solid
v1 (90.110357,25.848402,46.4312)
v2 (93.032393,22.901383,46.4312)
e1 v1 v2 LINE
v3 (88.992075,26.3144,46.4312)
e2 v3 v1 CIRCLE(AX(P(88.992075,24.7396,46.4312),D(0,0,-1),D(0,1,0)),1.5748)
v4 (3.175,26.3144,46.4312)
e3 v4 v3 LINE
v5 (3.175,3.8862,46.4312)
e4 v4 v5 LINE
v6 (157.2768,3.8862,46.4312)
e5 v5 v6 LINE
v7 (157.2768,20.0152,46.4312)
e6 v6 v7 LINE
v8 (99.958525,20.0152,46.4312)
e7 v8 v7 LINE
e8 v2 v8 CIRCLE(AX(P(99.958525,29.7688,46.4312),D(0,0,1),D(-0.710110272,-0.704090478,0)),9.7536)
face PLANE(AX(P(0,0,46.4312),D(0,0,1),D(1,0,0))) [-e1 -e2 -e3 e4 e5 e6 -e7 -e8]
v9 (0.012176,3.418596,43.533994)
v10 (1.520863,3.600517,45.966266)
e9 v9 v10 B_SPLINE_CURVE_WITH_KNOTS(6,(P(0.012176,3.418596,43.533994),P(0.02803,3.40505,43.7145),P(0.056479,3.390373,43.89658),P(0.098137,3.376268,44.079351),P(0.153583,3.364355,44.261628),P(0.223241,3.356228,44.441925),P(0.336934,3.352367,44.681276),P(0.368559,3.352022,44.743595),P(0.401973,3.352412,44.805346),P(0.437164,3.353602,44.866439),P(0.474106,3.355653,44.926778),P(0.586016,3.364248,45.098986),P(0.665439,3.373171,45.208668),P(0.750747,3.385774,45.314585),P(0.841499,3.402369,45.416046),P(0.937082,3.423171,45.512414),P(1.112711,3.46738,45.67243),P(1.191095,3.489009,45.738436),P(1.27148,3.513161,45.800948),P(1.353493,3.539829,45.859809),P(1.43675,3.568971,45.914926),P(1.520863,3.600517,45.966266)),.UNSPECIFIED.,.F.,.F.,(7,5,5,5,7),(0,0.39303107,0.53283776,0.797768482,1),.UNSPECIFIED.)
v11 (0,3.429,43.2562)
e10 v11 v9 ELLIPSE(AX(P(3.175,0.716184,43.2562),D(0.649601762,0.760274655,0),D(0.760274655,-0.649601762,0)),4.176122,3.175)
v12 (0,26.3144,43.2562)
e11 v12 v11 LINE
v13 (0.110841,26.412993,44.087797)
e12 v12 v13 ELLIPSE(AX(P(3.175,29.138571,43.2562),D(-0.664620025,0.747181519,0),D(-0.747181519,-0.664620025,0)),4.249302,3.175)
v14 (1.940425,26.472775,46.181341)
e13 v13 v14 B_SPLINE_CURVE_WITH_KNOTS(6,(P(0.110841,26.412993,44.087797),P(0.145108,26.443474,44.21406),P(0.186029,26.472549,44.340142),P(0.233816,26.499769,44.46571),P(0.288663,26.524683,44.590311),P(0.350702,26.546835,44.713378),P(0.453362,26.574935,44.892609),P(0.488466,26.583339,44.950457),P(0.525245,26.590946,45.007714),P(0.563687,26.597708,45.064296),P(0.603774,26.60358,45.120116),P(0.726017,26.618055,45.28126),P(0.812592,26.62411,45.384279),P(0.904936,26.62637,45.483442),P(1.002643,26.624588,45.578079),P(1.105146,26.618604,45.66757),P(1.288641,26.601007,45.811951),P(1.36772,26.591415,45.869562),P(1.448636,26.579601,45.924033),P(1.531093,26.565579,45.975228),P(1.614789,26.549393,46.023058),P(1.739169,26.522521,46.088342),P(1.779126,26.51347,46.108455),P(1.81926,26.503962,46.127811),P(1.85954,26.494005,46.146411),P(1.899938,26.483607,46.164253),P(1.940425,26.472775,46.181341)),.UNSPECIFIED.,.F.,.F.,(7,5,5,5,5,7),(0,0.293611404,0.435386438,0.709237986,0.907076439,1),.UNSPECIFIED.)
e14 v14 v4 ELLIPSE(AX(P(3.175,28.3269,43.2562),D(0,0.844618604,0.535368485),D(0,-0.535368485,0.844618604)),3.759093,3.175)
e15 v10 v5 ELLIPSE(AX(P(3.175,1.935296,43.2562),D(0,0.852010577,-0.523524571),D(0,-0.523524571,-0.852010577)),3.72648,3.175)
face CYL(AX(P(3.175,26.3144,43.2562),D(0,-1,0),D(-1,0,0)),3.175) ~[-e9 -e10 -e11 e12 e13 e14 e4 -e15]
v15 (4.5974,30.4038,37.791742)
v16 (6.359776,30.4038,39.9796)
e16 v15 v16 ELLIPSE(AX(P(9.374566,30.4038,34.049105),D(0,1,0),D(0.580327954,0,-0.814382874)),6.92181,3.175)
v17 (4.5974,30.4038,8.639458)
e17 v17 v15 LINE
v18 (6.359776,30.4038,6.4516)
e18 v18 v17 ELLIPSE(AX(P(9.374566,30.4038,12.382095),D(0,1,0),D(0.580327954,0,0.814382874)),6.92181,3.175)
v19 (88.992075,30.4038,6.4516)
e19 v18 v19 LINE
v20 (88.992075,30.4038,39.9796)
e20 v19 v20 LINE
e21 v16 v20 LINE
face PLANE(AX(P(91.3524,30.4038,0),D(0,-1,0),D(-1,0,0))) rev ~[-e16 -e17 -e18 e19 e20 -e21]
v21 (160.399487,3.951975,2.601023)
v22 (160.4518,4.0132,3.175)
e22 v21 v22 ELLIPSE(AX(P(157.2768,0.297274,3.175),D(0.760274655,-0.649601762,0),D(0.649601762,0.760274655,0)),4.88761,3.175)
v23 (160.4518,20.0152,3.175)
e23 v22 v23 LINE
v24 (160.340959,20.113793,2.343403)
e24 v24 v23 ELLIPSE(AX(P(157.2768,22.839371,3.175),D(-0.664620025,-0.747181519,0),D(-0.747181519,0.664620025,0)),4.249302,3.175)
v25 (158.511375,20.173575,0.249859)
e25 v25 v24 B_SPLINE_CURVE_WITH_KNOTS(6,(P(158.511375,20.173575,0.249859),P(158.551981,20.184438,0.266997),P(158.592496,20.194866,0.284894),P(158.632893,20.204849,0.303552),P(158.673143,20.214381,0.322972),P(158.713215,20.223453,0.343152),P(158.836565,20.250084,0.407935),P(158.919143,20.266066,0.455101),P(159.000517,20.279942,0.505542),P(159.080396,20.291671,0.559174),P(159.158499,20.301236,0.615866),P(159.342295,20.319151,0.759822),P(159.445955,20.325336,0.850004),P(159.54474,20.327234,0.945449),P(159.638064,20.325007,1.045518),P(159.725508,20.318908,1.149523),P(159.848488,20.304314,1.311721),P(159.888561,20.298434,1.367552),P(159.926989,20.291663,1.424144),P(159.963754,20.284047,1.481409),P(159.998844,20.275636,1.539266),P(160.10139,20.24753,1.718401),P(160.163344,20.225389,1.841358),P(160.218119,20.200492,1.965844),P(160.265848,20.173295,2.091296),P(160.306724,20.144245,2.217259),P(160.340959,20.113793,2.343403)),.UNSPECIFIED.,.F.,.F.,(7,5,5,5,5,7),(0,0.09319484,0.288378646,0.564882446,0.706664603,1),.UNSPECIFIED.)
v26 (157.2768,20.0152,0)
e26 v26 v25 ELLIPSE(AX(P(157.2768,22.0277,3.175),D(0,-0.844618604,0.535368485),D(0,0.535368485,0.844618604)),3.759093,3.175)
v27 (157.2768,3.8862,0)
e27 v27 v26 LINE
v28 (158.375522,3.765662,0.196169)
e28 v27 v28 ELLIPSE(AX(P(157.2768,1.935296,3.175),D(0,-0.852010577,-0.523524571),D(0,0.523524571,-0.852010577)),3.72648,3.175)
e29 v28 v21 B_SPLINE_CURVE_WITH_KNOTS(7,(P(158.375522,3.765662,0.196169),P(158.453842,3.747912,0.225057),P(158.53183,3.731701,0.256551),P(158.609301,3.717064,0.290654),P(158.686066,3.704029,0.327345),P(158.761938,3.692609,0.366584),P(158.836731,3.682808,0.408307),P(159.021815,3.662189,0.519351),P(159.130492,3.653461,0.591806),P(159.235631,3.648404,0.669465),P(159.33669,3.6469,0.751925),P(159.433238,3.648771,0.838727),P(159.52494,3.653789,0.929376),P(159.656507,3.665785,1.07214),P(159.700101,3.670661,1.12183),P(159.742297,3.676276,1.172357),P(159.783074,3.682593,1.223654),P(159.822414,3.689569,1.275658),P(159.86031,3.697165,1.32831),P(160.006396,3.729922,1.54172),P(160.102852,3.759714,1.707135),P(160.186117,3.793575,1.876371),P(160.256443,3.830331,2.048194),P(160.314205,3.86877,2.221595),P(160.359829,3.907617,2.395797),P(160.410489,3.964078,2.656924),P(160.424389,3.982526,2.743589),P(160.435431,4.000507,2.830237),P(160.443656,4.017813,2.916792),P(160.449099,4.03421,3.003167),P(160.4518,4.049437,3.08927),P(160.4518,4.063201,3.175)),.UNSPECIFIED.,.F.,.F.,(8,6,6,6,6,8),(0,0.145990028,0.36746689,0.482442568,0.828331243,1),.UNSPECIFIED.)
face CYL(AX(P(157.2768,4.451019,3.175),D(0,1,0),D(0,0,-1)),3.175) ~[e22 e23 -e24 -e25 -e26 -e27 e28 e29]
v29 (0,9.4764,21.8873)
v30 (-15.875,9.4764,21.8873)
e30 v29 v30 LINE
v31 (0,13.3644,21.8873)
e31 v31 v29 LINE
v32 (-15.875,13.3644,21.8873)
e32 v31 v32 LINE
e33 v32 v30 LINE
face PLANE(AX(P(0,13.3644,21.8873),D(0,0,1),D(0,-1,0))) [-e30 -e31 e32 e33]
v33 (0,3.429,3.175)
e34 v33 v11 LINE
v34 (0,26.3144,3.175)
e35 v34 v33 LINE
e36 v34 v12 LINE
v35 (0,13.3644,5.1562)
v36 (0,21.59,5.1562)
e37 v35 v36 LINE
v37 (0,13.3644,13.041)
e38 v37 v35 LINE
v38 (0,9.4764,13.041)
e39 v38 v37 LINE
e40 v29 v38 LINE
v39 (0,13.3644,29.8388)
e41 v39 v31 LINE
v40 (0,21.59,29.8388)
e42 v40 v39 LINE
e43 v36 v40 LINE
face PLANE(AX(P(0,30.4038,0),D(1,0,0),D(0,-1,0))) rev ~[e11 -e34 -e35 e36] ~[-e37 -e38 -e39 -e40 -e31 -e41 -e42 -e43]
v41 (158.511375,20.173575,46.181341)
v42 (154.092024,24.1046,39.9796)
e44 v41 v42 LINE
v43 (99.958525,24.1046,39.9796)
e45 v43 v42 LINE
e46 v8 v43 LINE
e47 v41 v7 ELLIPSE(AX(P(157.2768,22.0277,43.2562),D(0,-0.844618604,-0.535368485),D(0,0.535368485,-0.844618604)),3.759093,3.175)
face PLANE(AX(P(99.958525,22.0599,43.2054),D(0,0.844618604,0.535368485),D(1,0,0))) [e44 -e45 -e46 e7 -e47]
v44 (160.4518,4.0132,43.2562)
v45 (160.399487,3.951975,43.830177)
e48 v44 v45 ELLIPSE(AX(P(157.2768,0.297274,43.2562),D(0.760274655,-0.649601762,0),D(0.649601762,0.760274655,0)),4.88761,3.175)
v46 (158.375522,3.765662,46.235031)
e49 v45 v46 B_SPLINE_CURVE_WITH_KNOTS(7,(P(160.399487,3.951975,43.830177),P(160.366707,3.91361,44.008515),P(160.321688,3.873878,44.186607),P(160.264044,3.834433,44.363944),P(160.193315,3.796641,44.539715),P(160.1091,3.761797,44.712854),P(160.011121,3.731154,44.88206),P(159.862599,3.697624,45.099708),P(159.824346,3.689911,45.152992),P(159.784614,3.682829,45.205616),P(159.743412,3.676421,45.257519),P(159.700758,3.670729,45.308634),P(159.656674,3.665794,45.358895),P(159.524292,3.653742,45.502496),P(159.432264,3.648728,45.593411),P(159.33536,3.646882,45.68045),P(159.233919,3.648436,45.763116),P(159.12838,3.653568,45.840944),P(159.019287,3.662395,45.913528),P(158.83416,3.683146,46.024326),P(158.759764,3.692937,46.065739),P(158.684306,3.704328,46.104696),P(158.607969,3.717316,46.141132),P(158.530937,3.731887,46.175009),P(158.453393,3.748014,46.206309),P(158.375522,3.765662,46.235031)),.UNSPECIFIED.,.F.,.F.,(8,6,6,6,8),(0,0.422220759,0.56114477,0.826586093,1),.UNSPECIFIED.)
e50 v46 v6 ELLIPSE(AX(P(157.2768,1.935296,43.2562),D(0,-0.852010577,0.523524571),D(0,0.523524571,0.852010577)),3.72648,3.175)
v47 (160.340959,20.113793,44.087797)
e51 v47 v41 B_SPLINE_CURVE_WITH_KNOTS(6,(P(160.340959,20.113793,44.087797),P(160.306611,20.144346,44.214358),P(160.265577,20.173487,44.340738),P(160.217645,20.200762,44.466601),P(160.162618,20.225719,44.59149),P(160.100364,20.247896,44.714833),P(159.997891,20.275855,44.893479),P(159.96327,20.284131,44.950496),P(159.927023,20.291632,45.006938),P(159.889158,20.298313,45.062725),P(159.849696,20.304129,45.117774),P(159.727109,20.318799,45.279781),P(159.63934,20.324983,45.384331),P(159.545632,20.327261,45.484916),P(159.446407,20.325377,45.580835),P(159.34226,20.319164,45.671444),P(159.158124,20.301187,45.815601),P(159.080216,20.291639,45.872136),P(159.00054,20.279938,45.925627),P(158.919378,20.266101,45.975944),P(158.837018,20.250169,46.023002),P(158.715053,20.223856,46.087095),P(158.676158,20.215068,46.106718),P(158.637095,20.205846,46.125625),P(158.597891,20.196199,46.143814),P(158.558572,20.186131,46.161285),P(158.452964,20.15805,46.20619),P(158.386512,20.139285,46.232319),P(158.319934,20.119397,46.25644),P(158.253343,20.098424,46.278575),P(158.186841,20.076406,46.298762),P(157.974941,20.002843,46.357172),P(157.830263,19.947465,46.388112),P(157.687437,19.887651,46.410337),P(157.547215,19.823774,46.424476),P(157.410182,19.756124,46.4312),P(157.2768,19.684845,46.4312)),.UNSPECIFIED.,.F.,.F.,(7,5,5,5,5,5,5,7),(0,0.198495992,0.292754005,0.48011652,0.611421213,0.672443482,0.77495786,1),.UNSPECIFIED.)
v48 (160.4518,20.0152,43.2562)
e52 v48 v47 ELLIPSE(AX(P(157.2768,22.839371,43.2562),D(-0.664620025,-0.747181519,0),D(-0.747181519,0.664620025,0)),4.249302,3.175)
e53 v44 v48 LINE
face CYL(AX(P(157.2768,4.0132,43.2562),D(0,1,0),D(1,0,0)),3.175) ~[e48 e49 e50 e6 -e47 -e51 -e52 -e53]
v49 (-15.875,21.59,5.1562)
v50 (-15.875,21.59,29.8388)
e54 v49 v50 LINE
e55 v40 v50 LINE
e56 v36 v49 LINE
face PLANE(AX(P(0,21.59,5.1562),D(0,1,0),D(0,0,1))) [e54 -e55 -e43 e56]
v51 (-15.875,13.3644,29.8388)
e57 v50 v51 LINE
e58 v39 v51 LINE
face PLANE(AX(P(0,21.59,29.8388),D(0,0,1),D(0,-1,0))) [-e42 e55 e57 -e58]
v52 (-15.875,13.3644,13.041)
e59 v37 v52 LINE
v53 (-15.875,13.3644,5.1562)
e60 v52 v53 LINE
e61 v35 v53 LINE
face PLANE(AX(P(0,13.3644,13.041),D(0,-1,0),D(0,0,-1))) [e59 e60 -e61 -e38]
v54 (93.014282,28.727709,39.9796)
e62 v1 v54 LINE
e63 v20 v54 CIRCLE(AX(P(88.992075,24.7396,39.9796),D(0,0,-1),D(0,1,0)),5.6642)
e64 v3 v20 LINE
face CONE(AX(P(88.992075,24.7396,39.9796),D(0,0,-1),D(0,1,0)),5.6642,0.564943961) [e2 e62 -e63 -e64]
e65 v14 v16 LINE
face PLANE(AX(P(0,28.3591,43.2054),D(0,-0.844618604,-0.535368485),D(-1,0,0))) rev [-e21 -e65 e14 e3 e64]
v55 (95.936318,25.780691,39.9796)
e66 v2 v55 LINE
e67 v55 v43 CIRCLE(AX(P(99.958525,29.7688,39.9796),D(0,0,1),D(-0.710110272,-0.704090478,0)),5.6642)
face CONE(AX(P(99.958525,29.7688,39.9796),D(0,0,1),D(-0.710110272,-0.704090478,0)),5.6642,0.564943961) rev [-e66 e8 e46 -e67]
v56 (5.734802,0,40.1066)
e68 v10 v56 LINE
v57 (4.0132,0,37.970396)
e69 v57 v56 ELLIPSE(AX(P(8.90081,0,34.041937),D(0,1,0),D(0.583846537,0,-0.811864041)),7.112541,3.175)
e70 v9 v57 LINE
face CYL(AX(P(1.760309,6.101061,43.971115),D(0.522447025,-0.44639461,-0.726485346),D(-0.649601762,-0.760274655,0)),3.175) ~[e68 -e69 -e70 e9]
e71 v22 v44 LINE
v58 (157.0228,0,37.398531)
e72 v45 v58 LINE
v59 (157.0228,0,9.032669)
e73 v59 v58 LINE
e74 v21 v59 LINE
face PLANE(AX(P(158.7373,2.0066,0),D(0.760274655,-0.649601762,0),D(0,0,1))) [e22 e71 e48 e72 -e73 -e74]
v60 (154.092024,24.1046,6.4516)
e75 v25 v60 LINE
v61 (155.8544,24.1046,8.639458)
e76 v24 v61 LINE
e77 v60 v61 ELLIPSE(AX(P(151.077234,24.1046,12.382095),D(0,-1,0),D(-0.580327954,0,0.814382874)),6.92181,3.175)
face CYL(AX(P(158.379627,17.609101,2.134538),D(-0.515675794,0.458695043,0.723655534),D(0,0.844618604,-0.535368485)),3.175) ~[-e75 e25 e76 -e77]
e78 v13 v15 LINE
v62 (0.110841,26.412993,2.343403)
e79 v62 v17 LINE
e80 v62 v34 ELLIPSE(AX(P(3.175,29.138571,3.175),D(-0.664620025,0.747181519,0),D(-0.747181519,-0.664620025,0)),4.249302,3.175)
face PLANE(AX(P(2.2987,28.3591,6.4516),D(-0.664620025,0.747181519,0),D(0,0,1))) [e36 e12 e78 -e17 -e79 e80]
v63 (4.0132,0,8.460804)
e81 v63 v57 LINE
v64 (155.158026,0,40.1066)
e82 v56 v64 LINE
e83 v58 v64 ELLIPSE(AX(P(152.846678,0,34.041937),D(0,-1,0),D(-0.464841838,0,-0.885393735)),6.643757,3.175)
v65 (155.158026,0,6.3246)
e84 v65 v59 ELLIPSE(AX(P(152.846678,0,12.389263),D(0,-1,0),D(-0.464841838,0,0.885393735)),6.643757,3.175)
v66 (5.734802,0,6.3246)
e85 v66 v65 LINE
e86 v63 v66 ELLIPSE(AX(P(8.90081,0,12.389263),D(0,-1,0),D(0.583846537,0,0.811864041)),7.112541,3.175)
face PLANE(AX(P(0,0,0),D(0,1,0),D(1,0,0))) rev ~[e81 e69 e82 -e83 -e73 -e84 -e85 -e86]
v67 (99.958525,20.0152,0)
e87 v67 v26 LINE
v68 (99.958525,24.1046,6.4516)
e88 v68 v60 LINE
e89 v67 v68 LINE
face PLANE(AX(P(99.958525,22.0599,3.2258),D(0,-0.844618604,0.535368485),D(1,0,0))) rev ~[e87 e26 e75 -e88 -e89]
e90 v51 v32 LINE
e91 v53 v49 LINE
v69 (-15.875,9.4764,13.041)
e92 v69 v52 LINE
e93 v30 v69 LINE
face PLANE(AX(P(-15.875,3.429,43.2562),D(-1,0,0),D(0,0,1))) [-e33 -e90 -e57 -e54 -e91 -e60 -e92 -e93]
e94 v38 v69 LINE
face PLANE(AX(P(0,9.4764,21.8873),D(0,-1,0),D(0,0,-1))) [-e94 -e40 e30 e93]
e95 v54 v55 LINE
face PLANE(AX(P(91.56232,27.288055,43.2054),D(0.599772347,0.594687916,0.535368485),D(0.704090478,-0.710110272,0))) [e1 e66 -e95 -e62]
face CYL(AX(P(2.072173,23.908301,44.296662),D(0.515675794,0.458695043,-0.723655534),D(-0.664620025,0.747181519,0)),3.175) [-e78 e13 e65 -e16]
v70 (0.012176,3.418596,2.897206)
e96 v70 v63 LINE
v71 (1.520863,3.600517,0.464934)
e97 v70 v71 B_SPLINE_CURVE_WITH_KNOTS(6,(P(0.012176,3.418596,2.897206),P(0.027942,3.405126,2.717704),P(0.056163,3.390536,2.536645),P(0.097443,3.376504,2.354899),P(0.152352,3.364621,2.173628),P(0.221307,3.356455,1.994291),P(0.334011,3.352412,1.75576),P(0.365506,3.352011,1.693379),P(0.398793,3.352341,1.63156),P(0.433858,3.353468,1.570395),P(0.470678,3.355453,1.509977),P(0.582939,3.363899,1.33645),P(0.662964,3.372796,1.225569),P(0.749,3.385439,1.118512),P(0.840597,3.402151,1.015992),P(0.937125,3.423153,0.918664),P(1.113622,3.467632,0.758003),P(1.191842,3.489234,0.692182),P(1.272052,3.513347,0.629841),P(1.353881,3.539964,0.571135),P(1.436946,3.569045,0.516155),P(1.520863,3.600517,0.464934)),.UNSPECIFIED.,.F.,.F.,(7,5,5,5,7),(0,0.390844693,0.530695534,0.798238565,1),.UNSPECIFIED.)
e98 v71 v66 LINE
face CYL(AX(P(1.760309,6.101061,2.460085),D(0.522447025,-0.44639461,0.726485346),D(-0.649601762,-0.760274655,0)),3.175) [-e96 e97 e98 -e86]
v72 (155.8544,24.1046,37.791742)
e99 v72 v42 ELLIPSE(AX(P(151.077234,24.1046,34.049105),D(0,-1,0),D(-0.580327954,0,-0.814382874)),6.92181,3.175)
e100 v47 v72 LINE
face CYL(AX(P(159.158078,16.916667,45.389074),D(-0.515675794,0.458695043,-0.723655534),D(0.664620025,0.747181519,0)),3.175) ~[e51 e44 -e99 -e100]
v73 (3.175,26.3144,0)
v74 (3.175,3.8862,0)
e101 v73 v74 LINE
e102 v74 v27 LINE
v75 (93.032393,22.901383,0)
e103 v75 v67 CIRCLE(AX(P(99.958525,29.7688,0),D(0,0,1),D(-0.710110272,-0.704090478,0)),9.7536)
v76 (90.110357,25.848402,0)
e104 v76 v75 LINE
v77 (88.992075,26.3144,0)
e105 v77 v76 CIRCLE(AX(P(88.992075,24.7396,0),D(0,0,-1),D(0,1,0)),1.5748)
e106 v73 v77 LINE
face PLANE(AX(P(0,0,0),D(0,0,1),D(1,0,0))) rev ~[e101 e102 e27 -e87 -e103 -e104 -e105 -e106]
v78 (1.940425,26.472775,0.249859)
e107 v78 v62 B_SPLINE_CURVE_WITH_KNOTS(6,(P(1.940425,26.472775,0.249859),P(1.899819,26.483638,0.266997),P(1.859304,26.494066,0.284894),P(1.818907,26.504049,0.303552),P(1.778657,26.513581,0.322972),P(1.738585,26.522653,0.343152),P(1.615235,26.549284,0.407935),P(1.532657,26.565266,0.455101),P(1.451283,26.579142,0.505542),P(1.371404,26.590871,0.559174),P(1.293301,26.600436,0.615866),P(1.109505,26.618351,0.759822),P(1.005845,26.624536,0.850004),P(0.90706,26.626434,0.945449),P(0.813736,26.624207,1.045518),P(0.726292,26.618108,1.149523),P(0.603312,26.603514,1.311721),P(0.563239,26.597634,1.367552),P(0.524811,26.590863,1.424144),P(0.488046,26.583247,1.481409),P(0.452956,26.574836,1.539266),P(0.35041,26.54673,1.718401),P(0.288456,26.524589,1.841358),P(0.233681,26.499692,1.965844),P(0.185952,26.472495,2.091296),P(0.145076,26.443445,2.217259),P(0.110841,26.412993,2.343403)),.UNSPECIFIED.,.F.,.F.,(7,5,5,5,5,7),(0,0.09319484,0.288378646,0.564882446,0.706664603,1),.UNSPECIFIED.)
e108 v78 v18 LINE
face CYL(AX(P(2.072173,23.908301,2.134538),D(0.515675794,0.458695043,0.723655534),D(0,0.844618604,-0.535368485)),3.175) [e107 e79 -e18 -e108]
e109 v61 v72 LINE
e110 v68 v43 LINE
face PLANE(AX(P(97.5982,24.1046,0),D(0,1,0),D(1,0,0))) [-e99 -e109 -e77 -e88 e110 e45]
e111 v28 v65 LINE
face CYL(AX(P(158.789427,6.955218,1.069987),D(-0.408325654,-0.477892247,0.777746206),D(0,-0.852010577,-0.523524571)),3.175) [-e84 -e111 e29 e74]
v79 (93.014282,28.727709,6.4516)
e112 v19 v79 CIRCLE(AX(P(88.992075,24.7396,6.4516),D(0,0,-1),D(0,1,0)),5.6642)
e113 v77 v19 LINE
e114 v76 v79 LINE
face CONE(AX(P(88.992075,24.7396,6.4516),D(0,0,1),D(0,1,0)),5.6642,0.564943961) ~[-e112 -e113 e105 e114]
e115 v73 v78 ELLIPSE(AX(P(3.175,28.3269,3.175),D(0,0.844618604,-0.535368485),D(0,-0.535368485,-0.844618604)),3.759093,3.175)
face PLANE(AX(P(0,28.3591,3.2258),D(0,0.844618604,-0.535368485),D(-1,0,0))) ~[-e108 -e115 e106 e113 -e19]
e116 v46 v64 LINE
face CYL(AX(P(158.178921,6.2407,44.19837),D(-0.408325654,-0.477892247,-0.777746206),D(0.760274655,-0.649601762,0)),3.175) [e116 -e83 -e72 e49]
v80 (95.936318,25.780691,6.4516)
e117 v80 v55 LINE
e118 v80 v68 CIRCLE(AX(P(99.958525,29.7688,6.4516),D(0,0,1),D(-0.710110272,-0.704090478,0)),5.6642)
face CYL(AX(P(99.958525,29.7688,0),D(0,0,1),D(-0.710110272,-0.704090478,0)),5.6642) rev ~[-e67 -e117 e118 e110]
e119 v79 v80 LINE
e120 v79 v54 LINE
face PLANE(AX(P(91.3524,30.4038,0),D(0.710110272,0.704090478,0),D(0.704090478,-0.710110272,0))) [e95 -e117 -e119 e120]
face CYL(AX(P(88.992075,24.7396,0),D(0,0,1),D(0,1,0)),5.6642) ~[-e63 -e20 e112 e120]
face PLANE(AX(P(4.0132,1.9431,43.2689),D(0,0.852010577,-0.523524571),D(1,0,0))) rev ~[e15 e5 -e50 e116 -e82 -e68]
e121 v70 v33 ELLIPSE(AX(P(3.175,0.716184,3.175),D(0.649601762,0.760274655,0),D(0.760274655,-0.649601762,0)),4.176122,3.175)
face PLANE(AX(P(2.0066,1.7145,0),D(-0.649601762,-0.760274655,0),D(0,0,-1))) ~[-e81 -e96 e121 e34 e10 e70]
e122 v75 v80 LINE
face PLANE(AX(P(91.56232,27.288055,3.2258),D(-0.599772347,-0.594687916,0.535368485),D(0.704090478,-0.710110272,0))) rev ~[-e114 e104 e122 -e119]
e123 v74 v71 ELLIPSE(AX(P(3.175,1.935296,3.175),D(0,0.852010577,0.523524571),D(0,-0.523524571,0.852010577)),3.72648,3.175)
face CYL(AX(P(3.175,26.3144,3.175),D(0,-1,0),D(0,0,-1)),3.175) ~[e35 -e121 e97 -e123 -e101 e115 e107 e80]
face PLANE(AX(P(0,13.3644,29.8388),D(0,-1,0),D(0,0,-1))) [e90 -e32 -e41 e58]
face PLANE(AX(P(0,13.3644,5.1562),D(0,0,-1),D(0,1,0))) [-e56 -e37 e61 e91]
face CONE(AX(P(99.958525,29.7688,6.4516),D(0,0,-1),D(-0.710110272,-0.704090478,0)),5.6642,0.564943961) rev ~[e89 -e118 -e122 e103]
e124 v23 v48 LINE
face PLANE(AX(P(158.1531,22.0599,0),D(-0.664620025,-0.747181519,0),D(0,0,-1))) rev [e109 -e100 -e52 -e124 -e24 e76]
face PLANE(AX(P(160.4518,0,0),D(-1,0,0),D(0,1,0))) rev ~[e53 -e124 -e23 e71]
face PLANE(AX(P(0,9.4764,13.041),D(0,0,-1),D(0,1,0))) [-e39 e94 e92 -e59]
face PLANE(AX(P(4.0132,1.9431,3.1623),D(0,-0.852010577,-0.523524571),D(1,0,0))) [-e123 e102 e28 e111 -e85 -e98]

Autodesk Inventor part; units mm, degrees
ref_plane "YZ Plane" through (0, 0, 0) normal (1, 0, 0) x (0, 1, 0)
ref_plane "XZ Plane" through (0, 0, 0) normal (0, 1, 0) x (-1, 0, 0)
ref_plane "XY Plane" through (0, 0, 0) normal (0, 0, 1) x (1, 0, 0)
sketch "Sketch1" plane through (0, 0, 0) normal (0, 0, 1) x (1, 0, 0)
  line L0 (0, 0) -> (160.4518, 0)
  line L1 (160.4518, 0) -> (160.4518, 30.4038)
  line L2 (160.4518, 30.4038) -> (0, 30.4038)
  line L3 (0, 30.4038) -> (0, 0)
  line L4 (97.5982, 24.1046) -> (160.4518, 24.1046)
  line L5 (95.9612, 25.7556) -> (92.9894, 28.7528) construction
  line L6 (91.3524, 30.4038) -> (97.5982, 24.1046)
  dimension "d0" = 160.4518
  dimension "d1" = 30.4038
  dimension "d4" = 67.4624
  dimension "d5" = 1.651
  dimension "d8" = 64.4906
  dimension "d9" = 4.6482
  dimension "d10" = 6.2992
extrude "Extrusion1" add sketch "Sketch1" along normal blind 46.4312 contours L3 L2 L6 L4 L1 L0
fillet "Fillet1" radius 5.6642 2 edges at (91.3524, 30.4038, 23.2156) (97.5982, 24.1046, 23.2156)
chamfer "Chamfer1" distance 4.5974 distance2 4.0894 1 edges at (160.4518, 24.1046, 23.2156) measured on face at (140.2874, 24.1046, 15.4771)
chamfer "Chamfer3" distance 4.0894 distance2 6.4516 3 edges at (127.9065, 24.1046, 0) (94.4753, 27.2542, 0) (44.496, 30.4038, 0) measured on face at (86.4331, 8.0715, 0)
chamfer "Chamfer2" distance 4.0894 distance2 6.4516 3 edges at (127.9065, 24.1046, 46.4312) (94.4753, 27.2542, 46.4312) (44.496, 30.4038, 46.4312) measured on face at (86.4331, 8.0715, 46.4312)
chamfer "Chamfer4" distance 4.0894 distance2 4.5974 1 edges at (0, 30.4038, 23.2156) measured on face at (0, 10.1346, 28.8036)
chamfer "Chamfer5" distance 3.429 distance2 4.0132 1 edges at (0, 0, 23.2156) measured on face at (0, 17.5429, 30.9541)
chamfer "Chamfer6" distance 3.8862 distance2 6.3246 1 edges at (82.2325, 0, 46.4312) measured on face at (87.5035, 6.7349, 46.4312)
chamfer "Chamfer7" distance 4.0132 distance2 3.429 1 edges at (160.4518, 0, 20.0533) measured on face at (160.4518, 13.3435, 28.8459)
chamfer "Chamfer8" distance 3.8862 distance2 6.3246 1 edges at (80.518, 0, 0) measured on face at (86.3605, 6.7349, 0)
fillet "Fillet2" radius 3.175 12 edges at (0, 15.1003, 0) (2.2987, 28.3591, 3.2258) (0, 15.1003, 46.4312) (2.2987, 28.3591, 43.2054) (2.0066, 1.7145, 3.5343) (2.0066, 1.7145, 42.8969) (158.683, 1.9431, 3.1623) (160.4518, 12.0142, 0) (158.1531, 22.0599, 3.2258) (158.1531, 22.0599, 43.2054) (160.4518, 12.0142, 46.4312) (158.683, 1.9431, 43.2689)
sketch "Sketch2" plane through (0, 3.429, 43.2562) normal (-1, 0, 0) x (0, 0, 1)
  line L0 (-32.0153, 0.1) -> (-56.6979, 0.1) construction
  line L1 (-56.6979, 0.1) -> (-56.6979, 8.3256) construction
  line L2 (-56.6979, 8.3256) -> (-32.0153, 8.3256) construction
  line L3 (-32.0153, 8.3256) -> (-32.0153, 0.1) construction
  ellipse E0 centre (-40.1387, 8.5022) end of major axis (-39.8909, 8.2522) minor radius 0.0031 (-40.1387, 8.4978) -> (-39.8909, 8.2522) ccw construction
  line L4 (-48.8131, 12.2136) -> (-39.9668, 12.2136) construction
  line L5 (-39.9668, 12.2136) -> (-39.9668, 8.3256) construction
  line L6 (-39.9668, 8.3256) -> (-48.8131, 8.3256) construction
  line L7 (-48.8131, 8.3256) -> (-48.8131, 12.2136) construction
  line L8 (-38.1, 18.161) -> (-13.4174, 18.161)
  line L9 (-13.4174, 18.161) -> (-13.4174, 9.9354)
  line L10 (-13.4174, 9.9354) -> (-38.1, 9.9354)
  line L11 (-38.1, 9.9354) -> (-38.1, 18.161)
  line L12 (-30.2152, 9.9354) -> (-21.3689, 9.9354)
  line L13 (-21.3689, 9.9354) -> (-21.3689, 6.0474)
  line L14 (-21.3689, 6.0474) -> (-30.2152, 6.0474)
  line L15 (-30.2152, 6.0474) -> (-30.2152, 9.9354)
  line L16 (-5.4645, 26.9748) -> (-34.6167, 26.9748) projected
  line L17 (-43.2562, 22.8854) -> (-43.2562, 0.4572) projected
  point P0 (-43.2562, -3.429)
  point P1 (-21.3689, 9.9354)
  dimension "d40" = 8.8464
  dimension "d41" = 8.2256
  dimension "d42" = 24.6826
  dimension "d43" = 3.888
  dimension "d44" = 7.8848
  dimension "d45" = 8.2256
  dimension "d46" = 24.6826
  dimension "d47" = 7.8848
  dimension "d48" = 3.888
  dimension "d49" = 8.8464
  dimension "d50" = 7.9515
  dimension "d51" = 7.9515
  dimension "d52" = 8.8138
  dimension "d53" = 5.1562
extrude "Extrusion2" add sketch "Sketch2" along normal blind 15.875
equation "\"d45\" = d41"
equation "\"d46\" = d42"
equation "\"d47\" = d44"
equation "\"d48\" = d43"
equation "\"d49\" = d40"
properties part number "V5 Simple Battery"
